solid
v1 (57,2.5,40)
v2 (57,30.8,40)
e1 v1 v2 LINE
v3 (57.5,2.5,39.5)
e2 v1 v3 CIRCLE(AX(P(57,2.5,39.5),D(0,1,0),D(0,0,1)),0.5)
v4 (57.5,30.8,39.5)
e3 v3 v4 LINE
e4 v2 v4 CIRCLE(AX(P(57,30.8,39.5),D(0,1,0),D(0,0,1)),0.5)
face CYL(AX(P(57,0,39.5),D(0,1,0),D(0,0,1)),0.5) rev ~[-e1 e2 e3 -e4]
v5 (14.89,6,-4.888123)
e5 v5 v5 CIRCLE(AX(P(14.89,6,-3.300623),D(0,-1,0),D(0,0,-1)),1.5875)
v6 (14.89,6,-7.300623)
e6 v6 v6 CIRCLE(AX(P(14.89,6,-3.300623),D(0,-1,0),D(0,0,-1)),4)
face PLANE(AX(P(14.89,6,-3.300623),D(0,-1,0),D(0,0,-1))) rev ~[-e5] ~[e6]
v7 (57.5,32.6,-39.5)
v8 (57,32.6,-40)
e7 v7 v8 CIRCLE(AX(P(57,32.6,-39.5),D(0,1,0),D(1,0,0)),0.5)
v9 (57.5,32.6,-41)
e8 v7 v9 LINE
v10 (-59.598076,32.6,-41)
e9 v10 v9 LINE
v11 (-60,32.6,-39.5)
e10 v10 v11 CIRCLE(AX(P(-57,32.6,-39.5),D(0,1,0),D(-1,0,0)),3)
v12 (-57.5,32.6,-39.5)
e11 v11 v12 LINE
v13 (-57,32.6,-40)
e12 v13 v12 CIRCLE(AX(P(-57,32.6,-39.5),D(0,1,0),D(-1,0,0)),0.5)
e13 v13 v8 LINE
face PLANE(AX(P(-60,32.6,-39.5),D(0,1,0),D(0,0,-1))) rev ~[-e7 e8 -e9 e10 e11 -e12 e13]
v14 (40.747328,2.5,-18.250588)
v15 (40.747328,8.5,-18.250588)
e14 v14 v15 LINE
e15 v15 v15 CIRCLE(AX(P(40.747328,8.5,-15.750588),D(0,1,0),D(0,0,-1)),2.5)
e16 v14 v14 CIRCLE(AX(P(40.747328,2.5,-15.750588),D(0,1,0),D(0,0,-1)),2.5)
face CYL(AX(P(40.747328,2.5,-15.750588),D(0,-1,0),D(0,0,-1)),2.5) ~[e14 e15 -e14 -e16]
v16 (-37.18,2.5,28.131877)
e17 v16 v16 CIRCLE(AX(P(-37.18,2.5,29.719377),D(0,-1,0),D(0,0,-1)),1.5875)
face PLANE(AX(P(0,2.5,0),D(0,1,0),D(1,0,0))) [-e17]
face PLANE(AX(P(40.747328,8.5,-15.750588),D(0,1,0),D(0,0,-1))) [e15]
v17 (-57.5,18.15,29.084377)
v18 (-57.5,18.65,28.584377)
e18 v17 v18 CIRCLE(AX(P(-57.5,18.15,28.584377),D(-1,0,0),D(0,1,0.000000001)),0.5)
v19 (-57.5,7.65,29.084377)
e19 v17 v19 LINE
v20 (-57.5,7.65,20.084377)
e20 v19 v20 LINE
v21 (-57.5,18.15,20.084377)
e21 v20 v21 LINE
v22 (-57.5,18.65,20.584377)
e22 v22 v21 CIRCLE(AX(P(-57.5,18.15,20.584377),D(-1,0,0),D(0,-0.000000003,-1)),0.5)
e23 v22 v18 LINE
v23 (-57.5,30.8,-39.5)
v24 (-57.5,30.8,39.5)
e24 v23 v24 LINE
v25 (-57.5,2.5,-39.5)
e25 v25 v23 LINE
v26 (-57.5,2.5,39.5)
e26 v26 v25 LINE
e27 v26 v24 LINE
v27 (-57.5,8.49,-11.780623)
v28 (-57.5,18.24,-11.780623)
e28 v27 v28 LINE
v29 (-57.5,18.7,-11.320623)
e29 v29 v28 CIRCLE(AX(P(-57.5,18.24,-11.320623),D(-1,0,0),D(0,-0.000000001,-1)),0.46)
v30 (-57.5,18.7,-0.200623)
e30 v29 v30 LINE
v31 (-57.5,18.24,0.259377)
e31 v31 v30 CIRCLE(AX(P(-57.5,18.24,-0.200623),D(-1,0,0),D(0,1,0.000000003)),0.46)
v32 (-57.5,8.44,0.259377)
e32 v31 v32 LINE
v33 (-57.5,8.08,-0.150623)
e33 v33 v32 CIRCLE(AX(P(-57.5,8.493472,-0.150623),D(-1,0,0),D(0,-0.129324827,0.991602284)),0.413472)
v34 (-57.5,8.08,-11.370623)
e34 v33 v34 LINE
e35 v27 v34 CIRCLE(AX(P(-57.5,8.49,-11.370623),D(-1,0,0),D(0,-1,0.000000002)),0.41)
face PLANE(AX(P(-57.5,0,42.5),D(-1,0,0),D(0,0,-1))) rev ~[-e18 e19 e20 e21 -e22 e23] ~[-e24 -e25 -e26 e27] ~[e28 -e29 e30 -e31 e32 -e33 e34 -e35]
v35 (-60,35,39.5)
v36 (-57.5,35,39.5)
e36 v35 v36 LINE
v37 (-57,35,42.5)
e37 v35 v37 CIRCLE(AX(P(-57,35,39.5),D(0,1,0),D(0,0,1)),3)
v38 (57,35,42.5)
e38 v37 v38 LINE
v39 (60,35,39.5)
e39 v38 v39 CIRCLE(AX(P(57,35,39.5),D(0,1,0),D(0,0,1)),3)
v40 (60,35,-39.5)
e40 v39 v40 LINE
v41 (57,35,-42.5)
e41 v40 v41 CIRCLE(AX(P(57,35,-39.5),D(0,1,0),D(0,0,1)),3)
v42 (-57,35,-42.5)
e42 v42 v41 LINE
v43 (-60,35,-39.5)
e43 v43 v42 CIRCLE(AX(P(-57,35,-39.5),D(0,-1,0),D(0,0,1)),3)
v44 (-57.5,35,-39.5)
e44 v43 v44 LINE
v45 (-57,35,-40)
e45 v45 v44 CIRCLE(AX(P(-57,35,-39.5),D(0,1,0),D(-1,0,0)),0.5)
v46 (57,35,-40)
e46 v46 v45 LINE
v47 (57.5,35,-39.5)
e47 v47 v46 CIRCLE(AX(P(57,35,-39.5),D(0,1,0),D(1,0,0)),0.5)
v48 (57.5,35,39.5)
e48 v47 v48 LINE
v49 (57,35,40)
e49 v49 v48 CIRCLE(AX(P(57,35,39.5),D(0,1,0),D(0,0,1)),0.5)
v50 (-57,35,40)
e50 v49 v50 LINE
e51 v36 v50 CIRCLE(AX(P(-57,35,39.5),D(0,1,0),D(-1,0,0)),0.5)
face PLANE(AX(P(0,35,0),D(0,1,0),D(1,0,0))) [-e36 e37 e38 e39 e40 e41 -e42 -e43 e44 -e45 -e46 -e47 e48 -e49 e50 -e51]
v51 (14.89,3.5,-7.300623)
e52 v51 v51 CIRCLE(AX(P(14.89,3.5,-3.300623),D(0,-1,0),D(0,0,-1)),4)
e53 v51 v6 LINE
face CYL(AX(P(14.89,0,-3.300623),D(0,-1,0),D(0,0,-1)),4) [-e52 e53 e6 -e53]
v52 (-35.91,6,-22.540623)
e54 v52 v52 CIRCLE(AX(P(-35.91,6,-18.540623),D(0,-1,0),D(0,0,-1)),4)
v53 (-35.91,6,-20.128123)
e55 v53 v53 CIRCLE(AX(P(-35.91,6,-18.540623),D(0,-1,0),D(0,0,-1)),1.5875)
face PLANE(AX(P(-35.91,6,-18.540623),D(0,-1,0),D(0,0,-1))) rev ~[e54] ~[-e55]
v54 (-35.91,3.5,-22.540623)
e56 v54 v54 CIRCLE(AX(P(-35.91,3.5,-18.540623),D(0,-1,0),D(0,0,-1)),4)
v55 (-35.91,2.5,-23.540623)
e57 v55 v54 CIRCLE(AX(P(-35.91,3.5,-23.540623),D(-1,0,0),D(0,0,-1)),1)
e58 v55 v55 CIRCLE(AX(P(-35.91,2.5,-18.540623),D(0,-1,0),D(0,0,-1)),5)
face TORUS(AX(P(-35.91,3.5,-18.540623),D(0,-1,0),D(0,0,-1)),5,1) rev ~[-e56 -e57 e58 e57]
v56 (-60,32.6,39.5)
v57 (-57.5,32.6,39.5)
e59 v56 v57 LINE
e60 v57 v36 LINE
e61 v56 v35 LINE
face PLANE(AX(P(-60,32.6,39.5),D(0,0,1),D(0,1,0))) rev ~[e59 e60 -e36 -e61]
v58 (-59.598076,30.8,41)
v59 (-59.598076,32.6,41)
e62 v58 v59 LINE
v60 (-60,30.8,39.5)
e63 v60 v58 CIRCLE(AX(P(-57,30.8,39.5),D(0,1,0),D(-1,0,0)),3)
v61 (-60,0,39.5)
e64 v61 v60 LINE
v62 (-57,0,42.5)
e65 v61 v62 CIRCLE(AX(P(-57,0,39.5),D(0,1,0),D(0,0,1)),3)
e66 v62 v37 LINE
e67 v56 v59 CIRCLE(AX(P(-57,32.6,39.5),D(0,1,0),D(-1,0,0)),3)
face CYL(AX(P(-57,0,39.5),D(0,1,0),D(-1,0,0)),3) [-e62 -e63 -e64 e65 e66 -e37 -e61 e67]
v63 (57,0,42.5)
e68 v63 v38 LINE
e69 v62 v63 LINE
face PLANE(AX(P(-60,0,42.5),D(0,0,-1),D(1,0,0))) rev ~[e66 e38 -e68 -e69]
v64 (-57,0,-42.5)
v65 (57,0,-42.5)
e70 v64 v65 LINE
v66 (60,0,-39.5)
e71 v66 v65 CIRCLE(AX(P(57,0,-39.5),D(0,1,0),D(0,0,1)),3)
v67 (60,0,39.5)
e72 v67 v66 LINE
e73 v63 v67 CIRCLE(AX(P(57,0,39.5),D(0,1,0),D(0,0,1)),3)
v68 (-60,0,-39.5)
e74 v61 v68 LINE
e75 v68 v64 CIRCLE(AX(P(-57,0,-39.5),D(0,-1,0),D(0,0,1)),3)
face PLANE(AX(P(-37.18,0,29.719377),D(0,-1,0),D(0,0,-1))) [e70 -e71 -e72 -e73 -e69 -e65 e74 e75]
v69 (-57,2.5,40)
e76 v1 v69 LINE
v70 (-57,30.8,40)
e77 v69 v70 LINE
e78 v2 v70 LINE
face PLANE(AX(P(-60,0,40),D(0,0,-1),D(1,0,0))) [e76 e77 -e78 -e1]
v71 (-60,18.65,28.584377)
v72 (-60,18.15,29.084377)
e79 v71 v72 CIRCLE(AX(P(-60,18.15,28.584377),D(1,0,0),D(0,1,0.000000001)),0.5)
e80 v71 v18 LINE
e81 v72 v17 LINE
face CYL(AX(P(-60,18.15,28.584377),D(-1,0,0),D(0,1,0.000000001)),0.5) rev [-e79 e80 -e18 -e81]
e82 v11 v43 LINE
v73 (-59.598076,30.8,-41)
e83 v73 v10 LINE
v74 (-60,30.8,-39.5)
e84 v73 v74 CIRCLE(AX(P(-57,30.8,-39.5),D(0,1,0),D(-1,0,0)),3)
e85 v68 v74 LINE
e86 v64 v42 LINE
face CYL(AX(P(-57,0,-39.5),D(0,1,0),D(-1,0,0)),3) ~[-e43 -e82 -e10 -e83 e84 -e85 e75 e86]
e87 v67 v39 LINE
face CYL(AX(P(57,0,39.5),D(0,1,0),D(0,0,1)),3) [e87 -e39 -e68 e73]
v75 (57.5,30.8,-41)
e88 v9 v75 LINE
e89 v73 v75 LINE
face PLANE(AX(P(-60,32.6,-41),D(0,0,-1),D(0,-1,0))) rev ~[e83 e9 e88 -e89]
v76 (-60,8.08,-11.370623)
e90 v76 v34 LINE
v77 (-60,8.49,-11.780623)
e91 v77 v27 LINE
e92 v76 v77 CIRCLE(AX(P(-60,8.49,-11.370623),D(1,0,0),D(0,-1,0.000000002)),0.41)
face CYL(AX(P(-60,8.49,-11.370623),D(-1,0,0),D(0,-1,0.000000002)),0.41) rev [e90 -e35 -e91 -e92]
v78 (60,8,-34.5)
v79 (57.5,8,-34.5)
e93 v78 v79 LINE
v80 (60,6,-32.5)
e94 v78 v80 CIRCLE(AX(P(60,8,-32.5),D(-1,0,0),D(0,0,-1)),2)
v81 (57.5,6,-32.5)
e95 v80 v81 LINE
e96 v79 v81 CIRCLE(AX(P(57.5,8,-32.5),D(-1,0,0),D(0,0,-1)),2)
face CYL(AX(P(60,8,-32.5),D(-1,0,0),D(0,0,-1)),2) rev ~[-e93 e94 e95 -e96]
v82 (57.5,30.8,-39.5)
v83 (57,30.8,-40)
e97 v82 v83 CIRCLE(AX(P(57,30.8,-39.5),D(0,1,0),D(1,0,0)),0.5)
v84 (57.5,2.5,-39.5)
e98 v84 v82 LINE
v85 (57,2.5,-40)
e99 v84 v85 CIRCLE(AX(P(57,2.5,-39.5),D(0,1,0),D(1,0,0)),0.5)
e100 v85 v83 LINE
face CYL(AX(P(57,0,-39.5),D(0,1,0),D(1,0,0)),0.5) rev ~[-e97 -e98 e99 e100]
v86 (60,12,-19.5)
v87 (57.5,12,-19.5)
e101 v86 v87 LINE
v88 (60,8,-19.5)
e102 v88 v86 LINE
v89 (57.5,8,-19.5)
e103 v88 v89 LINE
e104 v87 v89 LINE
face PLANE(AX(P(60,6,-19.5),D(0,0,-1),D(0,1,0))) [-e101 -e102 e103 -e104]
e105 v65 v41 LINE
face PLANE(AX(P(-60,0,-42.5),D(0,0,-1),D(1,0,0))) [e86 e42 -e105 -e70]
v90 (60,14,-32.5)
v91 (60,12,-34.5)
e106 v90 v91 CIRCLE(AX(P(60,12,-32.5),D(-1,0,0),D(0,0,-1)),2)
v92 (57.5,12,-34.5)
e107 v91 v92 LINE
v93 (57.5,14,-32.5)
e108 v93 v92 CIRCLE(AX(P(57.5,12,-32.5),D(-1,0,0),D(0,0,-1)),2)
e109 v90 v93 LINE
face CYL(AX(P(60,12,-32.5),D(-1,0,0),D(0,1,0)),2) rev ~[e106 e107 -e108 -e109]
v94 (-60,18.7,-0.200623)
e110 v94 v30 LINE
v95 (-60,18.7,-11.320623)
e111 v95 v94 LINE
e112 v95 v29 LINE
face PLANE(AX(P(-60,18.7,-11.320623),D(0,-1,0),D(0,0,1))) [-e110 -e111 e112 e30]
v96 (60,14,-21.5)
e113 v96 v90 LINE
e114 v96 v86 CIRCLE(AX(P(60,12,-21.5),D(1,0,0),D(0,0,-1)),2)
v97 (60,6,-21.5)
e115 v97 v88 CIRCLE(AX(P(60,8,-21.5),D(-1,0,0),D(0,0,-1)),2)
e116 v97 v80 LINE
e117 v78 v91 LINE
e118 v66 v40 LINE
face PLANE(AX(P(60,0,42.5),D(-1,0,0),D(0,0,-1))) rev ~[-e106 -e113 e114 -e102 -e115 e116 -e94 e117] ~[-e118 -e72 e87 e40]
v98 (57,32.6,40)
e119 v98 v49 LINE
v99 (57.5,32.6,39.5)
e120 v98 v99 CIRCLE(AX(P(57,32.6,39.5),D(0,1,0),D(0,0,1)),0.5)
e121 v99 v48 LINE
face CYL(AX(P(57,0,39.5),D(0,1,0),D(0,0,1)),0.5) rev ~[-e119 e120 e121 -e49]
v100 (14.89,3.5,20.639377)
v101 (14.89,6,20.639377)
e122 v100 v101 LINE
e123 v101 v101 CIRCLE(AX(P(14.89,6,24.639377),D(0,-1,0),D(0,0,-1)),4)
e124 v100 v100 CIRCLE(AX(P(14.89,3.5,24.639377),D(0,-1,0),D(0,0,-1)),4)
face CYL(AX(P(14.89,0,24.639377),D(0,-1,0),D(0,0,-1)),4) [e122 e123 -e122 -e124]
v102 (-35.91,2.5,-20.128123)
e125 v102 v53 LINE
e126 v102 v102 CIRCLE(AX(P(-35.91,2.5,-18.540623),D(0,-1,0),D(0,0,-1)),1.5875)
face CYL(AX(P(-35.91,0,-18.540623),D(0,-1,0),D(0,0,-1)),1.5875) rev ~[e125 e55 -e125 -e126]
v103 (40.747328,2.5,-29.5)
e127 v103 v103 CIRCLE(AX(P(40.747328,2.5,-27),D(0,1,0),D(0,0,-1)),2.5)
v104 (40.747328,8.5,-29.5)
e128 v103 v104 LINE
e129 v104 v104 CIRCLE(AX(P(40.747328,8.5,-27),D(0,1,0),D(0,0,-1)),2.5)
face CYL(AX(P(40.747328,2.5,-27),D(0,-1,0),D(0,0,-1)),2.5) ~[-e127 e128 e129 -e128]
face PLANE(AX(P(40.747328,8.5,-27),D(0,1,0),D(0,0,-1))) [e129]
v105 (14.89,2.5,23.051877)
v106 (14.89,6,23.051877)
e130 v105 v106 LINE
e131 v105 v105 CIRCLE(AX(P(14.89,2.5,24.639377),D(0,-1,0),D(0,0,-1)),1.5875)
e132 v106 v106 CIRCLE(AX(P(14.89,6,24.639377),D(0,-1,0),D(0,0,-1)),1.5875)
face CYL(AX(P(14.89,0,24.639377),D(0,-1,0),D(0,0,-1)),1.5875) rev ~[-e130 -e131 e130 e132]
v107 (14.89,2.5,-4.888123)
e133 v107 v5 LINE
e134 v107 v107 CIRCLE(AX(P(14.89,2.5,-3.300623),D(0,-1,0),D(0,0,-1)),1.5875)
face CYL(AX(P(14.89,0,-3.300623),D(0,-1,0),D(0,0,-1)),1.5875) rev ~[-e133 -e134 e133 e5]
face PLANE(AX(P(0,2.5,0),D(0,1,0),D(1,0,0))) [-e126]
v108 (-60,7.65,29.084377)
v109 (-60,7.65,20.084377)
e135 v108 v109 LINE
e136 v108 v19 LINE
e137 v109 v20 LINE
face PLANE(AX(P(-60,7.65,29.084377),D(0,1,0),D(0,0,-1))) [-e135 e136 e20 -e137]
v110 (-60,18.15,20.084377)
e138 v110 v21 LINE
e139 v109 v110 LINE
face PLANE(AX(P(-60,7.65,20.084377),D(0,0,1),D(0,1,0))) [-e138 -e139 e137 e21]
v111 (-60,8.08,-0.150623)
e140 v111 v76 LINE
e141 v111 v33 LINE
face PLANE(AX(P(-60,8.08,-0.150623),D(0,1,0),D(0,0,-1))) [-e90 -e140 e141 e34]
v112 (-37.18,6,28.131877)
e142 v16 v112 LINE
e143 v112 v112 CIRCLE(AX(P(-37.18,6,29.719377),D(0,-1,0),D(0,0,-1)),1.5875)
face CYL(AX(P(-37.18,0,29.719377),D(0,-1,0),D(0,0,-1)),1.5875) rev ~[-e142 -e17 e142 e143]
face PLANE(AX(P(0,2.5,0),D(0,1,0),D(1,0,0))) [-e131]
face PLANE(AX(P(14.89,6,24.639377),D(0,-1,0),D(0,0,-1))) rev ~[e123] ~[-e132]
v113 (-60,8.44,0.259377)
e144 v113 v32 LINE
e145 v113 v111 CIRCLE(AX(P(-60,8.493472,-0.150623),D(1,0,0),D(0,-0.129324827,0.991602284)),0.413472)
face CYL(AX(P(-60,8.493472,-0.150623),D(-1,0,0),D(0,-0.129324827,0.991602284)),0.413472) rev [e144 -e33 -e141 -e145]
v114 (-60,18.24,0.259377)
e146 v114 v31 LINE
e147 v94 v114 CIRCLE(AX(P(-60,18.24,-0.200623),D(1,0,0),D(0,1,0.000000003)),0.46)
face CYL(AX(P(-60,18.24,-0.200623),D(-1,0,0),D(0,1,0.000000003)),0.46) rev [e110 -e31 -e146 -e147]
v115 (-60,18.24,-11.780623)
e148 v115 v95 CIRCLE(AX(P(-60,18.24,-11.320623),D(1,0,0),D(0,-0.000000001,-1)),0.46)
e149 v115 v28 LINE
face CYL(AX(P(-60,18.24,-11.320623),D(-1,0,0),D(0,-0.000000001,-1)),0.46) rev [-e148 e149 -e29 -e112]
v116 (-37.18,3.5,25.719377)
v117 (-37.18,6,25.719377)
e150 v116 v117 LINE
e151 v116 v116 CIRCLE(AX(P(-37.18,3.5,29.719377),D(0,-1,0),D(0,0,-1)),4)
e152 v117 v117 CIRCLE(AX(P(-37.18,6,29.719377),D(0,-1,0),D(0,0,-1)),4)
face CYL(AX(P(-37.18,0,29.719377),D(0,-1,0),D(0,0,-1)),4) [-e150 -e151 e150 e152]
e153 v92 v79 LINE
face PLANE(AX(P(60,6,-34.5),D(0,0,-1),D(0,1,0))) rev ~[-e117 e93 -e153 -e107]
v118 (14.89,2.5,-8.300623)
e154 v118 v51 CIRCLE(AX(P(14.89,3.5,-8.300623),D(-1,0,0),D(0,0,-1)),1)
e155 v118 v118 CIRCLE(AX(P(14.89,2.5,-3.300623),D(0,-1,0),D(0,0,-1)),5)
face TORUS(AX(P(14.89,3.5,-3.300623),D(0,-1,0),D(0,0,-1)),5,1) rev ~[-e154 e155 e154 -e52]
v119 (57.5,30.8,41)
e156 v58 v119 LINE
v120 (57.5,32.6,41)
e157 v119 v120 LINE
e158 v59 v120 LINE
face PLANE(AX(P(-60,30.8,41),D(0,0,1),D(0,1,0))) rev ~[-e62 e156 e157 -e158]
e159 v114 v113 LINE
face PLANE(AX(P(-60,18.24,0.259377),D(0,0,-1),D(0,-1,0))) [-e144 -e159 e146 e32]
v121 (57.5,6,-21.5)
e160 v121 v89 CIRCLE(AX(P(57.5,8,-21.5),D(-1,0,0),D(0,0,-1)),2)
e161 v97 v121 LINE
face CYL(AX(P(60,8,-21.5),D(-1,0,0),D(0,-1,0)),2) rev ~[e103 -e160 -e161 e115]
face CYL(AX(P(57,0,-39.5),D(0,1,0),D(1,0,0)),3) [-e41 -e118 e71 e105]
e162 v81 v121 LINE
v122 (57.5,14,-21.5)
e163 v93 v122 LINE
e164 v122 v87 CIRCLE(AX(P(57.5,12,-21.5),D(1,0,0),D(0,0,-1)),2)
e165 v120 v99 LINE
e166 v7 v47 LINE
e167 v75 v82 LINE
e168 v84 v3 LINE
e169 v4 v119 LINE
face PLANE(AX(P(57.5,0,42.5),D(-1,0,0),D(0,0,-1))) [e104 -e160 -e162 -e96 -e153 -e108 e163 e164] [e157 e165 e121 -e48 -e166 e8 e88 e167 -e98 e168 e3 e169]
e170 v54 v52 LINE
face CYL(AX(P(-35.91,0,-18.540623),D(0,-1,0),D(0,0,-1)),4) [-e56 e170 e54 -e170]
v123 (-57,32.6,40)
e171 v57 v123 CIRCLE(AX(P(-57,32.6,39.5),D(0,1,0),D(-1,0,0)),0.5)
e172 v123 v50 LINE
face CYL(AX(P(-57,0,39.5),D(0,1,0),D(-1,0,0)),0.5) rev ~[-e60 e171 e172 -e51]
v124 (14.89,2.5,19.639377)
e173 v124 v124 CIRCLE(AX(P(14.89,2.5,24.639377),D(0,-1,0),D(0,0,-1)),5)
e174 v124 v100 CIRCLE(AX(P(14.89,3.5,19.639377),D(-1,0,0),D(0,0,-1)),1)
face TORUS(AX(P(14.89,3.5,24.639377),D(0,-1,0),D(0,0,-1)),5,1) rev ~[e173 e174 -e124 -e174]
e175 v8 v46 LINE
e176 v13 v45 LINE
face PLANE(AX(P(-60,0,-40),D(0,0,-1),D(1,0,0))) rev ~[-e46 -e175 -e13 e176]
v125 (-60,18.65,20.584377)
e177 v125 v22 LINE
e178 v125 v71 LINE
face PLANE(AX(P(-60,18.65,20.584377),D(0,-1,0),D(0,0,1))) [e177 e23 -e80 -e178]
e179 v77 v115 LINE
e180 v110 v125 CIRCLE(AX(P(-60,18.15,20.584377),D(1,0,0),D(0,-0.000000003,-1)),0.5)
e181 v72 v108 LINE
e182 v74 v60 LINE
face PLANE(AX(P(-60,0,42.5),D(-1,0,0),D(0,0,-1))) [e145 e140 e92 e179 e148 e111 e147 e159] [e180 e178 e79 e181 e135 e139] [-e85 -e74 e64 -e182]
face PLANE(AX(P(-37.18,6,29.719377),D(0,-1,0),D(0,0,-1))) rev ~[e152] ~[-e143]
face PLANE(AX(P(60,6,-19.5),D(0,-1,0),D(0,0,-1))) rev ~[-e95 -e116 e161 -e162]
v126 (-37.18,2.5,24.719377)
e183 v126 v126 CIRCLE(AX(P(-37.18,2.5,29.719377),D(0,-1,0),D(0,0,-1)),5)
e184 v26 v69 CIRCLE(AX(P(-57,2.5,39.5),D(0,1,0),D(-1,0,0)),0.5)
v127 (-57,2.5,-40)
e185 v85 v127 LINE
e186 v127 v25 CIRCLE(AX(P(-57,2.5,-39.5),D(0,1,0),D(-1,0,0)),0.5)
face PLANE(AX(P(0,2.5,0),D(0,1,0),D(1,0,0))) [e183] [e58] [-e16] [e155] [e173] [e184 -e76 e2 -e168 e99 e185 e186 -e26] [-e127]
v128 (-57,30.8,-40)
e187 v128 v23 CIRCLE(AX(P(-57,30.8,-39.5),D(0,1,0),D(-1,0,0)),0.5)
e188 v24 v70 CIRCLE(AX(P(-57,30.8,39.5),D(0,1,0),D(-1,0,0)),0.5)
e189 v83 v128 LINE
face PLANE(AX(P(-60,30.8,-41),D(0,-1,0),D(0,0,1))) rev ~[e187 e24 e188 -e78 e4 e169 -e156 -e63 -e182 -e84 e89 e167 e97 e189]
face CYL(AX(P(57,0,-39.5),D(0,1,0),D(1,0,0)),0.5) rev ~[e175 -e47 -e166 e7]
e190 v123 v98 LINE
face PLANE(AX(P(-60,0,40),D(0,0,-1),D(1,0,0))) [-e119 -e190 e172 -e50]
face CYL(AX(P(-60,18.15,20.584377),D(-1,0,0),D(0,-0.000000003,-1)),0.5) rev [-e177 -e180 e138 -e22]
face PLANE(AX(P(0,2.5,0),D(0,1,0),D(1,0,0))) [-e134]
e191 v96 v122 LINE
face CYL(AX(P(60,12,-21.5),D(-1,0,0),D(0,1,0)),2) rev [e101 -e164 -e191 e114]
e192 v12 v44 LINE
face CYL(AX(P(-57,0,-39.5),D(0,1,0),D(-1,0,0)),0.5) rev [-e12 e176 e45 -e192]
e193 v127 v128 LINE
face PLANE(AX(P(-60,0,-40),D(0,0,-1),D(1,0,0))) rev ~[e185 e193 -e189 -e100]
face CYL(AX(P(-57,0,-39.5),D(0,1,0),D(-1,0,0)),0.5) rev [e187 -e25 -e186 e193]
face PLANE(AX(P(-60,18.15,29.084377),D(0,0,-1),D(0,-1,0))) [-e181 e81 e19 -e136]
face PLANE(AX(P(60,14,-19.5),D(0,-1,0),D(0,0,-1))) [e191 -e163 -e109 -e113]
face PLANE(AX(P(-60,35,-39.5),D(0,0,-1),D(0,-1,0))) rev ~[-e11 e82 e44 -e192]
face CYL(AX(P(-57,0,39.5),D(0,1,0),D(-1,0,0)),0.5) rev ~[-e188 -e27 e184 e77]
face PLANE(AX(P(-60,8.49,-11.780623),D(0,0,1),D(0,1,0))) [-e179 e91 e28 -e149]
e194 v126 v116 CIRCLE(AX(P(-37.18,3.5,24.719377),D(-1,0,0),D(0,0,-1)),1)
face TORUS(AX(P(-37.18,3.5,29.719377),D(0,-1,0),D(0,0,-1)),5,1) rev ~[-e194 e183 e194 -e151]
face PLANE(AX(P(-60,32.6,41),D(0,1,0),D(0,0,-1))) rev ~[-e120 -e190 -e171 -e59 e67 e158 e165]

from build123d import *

# Parameters (mm, degrees)
SKETCH1_W                    = 120
SKETCH1_H                    = 85
BASE_EXTRUSION_DEPTH         = 35
EXTERNAL_CORNER_FILLETS_R    = 3
ENCLOSURE_SHELL_T            = -2.5
SKETCH2_R                    = 4
SKETCH2_R_2                  = 1.5875
ARDUINO_MOUNTING_HOLES_DEPTH = 6
STANDOFF_FILLETS_R           = 1
PORT_ACCESS_HOLE_DEPTH       = 6
SKETCH5_W                    = 15
SKETCH5_H                    = 8
WIRE_ACCESS_HOLE_DEPTH       = 6
WIRE_ACCESS_HOLE_FILLET_R    = 2
SKETCH6_R                    = 2.5
CABLE_ROUTING_POSTS_DEPTH    = 6
LID_CUT_EXTRUDE_DEPTH        = 117.5


with BuildPart() as part:
    # Sketch1 → base extrusion (new body)
    with BuildSketch(Plane(origin=(0, 0, 0), x_dir=(1, 0, 0), z_dir=(0, 1, 0))):
        Rectangle(SKETCH1_W, SKETCH1_H)
    extrude(amount=BASE_EXTRUSION_DEPTH)

    # external corner fillets
    external_corner_fillets_edges = [part.edges().sort_by_distance(p)[0] for p in [
        (60, 17.5, 42.5),
        (60, 17.5, -42.5),
        (-60, 17.5, -42.5),
        (-60, 17.5, 42.5),
    ]]
    fillet(external_corner_fillets_edges, radius=EXTERNAL_CORNER_FILLETS_R)

    # enclosure shell
    enclosure_shell_openings = [part.faces().sort_by_distance(p)[0] for p in [
        (0, 35, 0),
    ]]
    offset(amount=ENCLOSURE_SHELL_T, openings=enclosure_shell_openings, kind=Kind.INTERSECTION)

    # Sketch2 → arduino mounting holes (add)
    # profile 1 of 4: a face of its own
    with BuildSketch(Plane.XZ):
        with Locations(Location((-37.18, 29.719377118, 0), (0, 0, 270))):
            Circle(SKETCH2_R)
        with Locations(Location((-37.18, 29.719377118, 0), (0, 0, 270))):
            Circle(SKETCH2_R_2, mode=Mode.SUBTRACT)
    # profile 2 of 4: a face of its own
    with BuildSketch(Plane.XZ):
        with Locations(Location((14.89, 24.639377118, 0), (0, 0, 270))):
            Circle(SKETCH2_R)
        with Locations(Location((14.89, 24.639377118, 0), (0, 0, 270))):
            Circle(SKETCH2_R_2, mode=Mode.SUBTRACT)
    # profile 3 of 4: a face of its own
    with BuildSketch(Plane.XZ):
        with Locations(Location((14.89, -3.300622882, 0), (0, 0, 270))):
            Circle(SKETCH2_R)
        with Locations(Location((14.89, -3.300622882, 0), (0, 0, 270))):
            Circle(SKETCH2_R_2, mode=Mode.SUBTRACT)
    # profile 4 of 4: a face of its own
    with BuildSketch(Plane.XZ):
        with Locations(Location((-35.91, -18.540622882, 0), (0, 0, 270))):
            Circle(SKETCH2_R)
        with Locations(Location((-35.91, -18.540622882, 0), (0, 0, 270))):
            Circle(SKETCH2_R_2, mode=Mode.SUBTRACT)
    extrude(amount=-ARDUINO_MOUNTING_HOLES_DEPTH)

    # standoff fillets
    standoff_fillets_edges = [part.edges().sort_by_distance(p)[0] for p in [
        (-35.91, 2.5, -14.540622882),
        (14.89, 2.5, 0.699377118),
        (14.89, 2.5, 28.639377118),
        (-37.18, 2.5, 33.719377118),
    ]]
    fillet(standoff_fillets_edges, radius=STANDOFF_FILLETS_R)

    # Sketch4 → port access hole (cut)
    with BuildSketch(Plane.ZY.offset(60)):
        with BuildLine():
            Line((20.584377118, 18.65), (28.584377118, 18.65))
            ThreePointArc((28.584377118, 18.65), (28.937930508, 18.503553391), (29.084377118, 18.15))
            Line((29.084377118, 18.15), (29.084377118, 7.65))
            Line((29.084377118, 7.65), (20.084377118, 7.65))
            Line((20.084377118, 7.65), (20.084377118, 18.15))
            ThreePointArc((20.084377118, 18.15), (20.230823727, 18.503553391), (20.584377118, 18.65))
        make_face()
        with BuildLine():
            Line((-11.320622882, 18.7), (-0.200622882, 18.7))
            ThreePointArc((-0.200622882, 18.7), (0.124646237, 18.565269119), (0.259377118, 18.24))
            Line((0.259377118, 18.24), (0.259377118, 8.44))
            ThreePointArc((0.259377118, 8.44), (0.122186575, 8.182772563), (-0.150622882, 8.08))
            Line((-0.150622882, 8.08), (-11.370622882, 8.08))
            ThreePointArc((-11.370622882, 8.08), (-11.660536663, 8.20008622), (-11.780622882, 8.49))
            Line((-11.780622882, 8.49), (-11.780622882, 18.24))
            ThreePointArc((-11.780622882, 18.24), (-11.645892002, 18.565269119), (-11.320622882, 18.7))
        make_face()
    extrude(amount=-PORT_ACCESS_HOLE_DEPTH, mode=Mode.SUBTRACT)

    # Sketch5 → wire access hole (cut)
    with BuildSketch(Plane(origin=(60, 0, 0), x_dir=(0, 0, -1), z_dir=(1, 0, 0))):
        with Locations((27, 10)):
            Rectangle(SKETCH5_W, SKETCH5_H)
    extrude(amount=-WIRE_ACCESS_HOLE_DEPTH, mode=Mode.SUBTRACT)

    # wire access hole fillet
    wire_access_hole_fillet_edges = [part.edges().sort_by_distance(p)[0] for p in [
        (58.75, 14, -34.5),
        (58.75, 6, -34.5),
        (58.75, 6, -19.5),
        (58.75, 14, -19.5),
    ]]
    fillet(wire_access_hole_fillet_edges, radius=WIRE_ACCESS_HOLE_FILLET_R)

    # Sketch6 → cable routing posts (add)
    with BuildSketch(Plane(origin=(0, 2.5, 0), x_dir=(1, 0, 0), z_dir=(0, 1, 0))):
        with Locations(Location((40.747327805, 27, 0), (0, 0, 90))):
            Circle(SKETCH6_R)
        with Locations(Location((40.747327805, 15.750588276, 0), (0, 0, 90))):
            Circle(SKETCH6_R)
    extrude(amount=CABLE_ROUTING_POSTS_DEPTH)

    # Sketch10 → lid cut extrude (cut)
    with BuildSketch(Plane.ZY.offset(60)):
        Polygon((-39.5, 35), (-39.5, 32.6), (-41, 32.6), (-41, 30.8), (41, 30.8), (41, 32.6), (39.5, 32.6), (39.5, 35), align=None)
    extrude(amount=-LID_CUT_EXTRUDE_DEPTH, mode=Mode.SUBTRACT)


solid = part.part
